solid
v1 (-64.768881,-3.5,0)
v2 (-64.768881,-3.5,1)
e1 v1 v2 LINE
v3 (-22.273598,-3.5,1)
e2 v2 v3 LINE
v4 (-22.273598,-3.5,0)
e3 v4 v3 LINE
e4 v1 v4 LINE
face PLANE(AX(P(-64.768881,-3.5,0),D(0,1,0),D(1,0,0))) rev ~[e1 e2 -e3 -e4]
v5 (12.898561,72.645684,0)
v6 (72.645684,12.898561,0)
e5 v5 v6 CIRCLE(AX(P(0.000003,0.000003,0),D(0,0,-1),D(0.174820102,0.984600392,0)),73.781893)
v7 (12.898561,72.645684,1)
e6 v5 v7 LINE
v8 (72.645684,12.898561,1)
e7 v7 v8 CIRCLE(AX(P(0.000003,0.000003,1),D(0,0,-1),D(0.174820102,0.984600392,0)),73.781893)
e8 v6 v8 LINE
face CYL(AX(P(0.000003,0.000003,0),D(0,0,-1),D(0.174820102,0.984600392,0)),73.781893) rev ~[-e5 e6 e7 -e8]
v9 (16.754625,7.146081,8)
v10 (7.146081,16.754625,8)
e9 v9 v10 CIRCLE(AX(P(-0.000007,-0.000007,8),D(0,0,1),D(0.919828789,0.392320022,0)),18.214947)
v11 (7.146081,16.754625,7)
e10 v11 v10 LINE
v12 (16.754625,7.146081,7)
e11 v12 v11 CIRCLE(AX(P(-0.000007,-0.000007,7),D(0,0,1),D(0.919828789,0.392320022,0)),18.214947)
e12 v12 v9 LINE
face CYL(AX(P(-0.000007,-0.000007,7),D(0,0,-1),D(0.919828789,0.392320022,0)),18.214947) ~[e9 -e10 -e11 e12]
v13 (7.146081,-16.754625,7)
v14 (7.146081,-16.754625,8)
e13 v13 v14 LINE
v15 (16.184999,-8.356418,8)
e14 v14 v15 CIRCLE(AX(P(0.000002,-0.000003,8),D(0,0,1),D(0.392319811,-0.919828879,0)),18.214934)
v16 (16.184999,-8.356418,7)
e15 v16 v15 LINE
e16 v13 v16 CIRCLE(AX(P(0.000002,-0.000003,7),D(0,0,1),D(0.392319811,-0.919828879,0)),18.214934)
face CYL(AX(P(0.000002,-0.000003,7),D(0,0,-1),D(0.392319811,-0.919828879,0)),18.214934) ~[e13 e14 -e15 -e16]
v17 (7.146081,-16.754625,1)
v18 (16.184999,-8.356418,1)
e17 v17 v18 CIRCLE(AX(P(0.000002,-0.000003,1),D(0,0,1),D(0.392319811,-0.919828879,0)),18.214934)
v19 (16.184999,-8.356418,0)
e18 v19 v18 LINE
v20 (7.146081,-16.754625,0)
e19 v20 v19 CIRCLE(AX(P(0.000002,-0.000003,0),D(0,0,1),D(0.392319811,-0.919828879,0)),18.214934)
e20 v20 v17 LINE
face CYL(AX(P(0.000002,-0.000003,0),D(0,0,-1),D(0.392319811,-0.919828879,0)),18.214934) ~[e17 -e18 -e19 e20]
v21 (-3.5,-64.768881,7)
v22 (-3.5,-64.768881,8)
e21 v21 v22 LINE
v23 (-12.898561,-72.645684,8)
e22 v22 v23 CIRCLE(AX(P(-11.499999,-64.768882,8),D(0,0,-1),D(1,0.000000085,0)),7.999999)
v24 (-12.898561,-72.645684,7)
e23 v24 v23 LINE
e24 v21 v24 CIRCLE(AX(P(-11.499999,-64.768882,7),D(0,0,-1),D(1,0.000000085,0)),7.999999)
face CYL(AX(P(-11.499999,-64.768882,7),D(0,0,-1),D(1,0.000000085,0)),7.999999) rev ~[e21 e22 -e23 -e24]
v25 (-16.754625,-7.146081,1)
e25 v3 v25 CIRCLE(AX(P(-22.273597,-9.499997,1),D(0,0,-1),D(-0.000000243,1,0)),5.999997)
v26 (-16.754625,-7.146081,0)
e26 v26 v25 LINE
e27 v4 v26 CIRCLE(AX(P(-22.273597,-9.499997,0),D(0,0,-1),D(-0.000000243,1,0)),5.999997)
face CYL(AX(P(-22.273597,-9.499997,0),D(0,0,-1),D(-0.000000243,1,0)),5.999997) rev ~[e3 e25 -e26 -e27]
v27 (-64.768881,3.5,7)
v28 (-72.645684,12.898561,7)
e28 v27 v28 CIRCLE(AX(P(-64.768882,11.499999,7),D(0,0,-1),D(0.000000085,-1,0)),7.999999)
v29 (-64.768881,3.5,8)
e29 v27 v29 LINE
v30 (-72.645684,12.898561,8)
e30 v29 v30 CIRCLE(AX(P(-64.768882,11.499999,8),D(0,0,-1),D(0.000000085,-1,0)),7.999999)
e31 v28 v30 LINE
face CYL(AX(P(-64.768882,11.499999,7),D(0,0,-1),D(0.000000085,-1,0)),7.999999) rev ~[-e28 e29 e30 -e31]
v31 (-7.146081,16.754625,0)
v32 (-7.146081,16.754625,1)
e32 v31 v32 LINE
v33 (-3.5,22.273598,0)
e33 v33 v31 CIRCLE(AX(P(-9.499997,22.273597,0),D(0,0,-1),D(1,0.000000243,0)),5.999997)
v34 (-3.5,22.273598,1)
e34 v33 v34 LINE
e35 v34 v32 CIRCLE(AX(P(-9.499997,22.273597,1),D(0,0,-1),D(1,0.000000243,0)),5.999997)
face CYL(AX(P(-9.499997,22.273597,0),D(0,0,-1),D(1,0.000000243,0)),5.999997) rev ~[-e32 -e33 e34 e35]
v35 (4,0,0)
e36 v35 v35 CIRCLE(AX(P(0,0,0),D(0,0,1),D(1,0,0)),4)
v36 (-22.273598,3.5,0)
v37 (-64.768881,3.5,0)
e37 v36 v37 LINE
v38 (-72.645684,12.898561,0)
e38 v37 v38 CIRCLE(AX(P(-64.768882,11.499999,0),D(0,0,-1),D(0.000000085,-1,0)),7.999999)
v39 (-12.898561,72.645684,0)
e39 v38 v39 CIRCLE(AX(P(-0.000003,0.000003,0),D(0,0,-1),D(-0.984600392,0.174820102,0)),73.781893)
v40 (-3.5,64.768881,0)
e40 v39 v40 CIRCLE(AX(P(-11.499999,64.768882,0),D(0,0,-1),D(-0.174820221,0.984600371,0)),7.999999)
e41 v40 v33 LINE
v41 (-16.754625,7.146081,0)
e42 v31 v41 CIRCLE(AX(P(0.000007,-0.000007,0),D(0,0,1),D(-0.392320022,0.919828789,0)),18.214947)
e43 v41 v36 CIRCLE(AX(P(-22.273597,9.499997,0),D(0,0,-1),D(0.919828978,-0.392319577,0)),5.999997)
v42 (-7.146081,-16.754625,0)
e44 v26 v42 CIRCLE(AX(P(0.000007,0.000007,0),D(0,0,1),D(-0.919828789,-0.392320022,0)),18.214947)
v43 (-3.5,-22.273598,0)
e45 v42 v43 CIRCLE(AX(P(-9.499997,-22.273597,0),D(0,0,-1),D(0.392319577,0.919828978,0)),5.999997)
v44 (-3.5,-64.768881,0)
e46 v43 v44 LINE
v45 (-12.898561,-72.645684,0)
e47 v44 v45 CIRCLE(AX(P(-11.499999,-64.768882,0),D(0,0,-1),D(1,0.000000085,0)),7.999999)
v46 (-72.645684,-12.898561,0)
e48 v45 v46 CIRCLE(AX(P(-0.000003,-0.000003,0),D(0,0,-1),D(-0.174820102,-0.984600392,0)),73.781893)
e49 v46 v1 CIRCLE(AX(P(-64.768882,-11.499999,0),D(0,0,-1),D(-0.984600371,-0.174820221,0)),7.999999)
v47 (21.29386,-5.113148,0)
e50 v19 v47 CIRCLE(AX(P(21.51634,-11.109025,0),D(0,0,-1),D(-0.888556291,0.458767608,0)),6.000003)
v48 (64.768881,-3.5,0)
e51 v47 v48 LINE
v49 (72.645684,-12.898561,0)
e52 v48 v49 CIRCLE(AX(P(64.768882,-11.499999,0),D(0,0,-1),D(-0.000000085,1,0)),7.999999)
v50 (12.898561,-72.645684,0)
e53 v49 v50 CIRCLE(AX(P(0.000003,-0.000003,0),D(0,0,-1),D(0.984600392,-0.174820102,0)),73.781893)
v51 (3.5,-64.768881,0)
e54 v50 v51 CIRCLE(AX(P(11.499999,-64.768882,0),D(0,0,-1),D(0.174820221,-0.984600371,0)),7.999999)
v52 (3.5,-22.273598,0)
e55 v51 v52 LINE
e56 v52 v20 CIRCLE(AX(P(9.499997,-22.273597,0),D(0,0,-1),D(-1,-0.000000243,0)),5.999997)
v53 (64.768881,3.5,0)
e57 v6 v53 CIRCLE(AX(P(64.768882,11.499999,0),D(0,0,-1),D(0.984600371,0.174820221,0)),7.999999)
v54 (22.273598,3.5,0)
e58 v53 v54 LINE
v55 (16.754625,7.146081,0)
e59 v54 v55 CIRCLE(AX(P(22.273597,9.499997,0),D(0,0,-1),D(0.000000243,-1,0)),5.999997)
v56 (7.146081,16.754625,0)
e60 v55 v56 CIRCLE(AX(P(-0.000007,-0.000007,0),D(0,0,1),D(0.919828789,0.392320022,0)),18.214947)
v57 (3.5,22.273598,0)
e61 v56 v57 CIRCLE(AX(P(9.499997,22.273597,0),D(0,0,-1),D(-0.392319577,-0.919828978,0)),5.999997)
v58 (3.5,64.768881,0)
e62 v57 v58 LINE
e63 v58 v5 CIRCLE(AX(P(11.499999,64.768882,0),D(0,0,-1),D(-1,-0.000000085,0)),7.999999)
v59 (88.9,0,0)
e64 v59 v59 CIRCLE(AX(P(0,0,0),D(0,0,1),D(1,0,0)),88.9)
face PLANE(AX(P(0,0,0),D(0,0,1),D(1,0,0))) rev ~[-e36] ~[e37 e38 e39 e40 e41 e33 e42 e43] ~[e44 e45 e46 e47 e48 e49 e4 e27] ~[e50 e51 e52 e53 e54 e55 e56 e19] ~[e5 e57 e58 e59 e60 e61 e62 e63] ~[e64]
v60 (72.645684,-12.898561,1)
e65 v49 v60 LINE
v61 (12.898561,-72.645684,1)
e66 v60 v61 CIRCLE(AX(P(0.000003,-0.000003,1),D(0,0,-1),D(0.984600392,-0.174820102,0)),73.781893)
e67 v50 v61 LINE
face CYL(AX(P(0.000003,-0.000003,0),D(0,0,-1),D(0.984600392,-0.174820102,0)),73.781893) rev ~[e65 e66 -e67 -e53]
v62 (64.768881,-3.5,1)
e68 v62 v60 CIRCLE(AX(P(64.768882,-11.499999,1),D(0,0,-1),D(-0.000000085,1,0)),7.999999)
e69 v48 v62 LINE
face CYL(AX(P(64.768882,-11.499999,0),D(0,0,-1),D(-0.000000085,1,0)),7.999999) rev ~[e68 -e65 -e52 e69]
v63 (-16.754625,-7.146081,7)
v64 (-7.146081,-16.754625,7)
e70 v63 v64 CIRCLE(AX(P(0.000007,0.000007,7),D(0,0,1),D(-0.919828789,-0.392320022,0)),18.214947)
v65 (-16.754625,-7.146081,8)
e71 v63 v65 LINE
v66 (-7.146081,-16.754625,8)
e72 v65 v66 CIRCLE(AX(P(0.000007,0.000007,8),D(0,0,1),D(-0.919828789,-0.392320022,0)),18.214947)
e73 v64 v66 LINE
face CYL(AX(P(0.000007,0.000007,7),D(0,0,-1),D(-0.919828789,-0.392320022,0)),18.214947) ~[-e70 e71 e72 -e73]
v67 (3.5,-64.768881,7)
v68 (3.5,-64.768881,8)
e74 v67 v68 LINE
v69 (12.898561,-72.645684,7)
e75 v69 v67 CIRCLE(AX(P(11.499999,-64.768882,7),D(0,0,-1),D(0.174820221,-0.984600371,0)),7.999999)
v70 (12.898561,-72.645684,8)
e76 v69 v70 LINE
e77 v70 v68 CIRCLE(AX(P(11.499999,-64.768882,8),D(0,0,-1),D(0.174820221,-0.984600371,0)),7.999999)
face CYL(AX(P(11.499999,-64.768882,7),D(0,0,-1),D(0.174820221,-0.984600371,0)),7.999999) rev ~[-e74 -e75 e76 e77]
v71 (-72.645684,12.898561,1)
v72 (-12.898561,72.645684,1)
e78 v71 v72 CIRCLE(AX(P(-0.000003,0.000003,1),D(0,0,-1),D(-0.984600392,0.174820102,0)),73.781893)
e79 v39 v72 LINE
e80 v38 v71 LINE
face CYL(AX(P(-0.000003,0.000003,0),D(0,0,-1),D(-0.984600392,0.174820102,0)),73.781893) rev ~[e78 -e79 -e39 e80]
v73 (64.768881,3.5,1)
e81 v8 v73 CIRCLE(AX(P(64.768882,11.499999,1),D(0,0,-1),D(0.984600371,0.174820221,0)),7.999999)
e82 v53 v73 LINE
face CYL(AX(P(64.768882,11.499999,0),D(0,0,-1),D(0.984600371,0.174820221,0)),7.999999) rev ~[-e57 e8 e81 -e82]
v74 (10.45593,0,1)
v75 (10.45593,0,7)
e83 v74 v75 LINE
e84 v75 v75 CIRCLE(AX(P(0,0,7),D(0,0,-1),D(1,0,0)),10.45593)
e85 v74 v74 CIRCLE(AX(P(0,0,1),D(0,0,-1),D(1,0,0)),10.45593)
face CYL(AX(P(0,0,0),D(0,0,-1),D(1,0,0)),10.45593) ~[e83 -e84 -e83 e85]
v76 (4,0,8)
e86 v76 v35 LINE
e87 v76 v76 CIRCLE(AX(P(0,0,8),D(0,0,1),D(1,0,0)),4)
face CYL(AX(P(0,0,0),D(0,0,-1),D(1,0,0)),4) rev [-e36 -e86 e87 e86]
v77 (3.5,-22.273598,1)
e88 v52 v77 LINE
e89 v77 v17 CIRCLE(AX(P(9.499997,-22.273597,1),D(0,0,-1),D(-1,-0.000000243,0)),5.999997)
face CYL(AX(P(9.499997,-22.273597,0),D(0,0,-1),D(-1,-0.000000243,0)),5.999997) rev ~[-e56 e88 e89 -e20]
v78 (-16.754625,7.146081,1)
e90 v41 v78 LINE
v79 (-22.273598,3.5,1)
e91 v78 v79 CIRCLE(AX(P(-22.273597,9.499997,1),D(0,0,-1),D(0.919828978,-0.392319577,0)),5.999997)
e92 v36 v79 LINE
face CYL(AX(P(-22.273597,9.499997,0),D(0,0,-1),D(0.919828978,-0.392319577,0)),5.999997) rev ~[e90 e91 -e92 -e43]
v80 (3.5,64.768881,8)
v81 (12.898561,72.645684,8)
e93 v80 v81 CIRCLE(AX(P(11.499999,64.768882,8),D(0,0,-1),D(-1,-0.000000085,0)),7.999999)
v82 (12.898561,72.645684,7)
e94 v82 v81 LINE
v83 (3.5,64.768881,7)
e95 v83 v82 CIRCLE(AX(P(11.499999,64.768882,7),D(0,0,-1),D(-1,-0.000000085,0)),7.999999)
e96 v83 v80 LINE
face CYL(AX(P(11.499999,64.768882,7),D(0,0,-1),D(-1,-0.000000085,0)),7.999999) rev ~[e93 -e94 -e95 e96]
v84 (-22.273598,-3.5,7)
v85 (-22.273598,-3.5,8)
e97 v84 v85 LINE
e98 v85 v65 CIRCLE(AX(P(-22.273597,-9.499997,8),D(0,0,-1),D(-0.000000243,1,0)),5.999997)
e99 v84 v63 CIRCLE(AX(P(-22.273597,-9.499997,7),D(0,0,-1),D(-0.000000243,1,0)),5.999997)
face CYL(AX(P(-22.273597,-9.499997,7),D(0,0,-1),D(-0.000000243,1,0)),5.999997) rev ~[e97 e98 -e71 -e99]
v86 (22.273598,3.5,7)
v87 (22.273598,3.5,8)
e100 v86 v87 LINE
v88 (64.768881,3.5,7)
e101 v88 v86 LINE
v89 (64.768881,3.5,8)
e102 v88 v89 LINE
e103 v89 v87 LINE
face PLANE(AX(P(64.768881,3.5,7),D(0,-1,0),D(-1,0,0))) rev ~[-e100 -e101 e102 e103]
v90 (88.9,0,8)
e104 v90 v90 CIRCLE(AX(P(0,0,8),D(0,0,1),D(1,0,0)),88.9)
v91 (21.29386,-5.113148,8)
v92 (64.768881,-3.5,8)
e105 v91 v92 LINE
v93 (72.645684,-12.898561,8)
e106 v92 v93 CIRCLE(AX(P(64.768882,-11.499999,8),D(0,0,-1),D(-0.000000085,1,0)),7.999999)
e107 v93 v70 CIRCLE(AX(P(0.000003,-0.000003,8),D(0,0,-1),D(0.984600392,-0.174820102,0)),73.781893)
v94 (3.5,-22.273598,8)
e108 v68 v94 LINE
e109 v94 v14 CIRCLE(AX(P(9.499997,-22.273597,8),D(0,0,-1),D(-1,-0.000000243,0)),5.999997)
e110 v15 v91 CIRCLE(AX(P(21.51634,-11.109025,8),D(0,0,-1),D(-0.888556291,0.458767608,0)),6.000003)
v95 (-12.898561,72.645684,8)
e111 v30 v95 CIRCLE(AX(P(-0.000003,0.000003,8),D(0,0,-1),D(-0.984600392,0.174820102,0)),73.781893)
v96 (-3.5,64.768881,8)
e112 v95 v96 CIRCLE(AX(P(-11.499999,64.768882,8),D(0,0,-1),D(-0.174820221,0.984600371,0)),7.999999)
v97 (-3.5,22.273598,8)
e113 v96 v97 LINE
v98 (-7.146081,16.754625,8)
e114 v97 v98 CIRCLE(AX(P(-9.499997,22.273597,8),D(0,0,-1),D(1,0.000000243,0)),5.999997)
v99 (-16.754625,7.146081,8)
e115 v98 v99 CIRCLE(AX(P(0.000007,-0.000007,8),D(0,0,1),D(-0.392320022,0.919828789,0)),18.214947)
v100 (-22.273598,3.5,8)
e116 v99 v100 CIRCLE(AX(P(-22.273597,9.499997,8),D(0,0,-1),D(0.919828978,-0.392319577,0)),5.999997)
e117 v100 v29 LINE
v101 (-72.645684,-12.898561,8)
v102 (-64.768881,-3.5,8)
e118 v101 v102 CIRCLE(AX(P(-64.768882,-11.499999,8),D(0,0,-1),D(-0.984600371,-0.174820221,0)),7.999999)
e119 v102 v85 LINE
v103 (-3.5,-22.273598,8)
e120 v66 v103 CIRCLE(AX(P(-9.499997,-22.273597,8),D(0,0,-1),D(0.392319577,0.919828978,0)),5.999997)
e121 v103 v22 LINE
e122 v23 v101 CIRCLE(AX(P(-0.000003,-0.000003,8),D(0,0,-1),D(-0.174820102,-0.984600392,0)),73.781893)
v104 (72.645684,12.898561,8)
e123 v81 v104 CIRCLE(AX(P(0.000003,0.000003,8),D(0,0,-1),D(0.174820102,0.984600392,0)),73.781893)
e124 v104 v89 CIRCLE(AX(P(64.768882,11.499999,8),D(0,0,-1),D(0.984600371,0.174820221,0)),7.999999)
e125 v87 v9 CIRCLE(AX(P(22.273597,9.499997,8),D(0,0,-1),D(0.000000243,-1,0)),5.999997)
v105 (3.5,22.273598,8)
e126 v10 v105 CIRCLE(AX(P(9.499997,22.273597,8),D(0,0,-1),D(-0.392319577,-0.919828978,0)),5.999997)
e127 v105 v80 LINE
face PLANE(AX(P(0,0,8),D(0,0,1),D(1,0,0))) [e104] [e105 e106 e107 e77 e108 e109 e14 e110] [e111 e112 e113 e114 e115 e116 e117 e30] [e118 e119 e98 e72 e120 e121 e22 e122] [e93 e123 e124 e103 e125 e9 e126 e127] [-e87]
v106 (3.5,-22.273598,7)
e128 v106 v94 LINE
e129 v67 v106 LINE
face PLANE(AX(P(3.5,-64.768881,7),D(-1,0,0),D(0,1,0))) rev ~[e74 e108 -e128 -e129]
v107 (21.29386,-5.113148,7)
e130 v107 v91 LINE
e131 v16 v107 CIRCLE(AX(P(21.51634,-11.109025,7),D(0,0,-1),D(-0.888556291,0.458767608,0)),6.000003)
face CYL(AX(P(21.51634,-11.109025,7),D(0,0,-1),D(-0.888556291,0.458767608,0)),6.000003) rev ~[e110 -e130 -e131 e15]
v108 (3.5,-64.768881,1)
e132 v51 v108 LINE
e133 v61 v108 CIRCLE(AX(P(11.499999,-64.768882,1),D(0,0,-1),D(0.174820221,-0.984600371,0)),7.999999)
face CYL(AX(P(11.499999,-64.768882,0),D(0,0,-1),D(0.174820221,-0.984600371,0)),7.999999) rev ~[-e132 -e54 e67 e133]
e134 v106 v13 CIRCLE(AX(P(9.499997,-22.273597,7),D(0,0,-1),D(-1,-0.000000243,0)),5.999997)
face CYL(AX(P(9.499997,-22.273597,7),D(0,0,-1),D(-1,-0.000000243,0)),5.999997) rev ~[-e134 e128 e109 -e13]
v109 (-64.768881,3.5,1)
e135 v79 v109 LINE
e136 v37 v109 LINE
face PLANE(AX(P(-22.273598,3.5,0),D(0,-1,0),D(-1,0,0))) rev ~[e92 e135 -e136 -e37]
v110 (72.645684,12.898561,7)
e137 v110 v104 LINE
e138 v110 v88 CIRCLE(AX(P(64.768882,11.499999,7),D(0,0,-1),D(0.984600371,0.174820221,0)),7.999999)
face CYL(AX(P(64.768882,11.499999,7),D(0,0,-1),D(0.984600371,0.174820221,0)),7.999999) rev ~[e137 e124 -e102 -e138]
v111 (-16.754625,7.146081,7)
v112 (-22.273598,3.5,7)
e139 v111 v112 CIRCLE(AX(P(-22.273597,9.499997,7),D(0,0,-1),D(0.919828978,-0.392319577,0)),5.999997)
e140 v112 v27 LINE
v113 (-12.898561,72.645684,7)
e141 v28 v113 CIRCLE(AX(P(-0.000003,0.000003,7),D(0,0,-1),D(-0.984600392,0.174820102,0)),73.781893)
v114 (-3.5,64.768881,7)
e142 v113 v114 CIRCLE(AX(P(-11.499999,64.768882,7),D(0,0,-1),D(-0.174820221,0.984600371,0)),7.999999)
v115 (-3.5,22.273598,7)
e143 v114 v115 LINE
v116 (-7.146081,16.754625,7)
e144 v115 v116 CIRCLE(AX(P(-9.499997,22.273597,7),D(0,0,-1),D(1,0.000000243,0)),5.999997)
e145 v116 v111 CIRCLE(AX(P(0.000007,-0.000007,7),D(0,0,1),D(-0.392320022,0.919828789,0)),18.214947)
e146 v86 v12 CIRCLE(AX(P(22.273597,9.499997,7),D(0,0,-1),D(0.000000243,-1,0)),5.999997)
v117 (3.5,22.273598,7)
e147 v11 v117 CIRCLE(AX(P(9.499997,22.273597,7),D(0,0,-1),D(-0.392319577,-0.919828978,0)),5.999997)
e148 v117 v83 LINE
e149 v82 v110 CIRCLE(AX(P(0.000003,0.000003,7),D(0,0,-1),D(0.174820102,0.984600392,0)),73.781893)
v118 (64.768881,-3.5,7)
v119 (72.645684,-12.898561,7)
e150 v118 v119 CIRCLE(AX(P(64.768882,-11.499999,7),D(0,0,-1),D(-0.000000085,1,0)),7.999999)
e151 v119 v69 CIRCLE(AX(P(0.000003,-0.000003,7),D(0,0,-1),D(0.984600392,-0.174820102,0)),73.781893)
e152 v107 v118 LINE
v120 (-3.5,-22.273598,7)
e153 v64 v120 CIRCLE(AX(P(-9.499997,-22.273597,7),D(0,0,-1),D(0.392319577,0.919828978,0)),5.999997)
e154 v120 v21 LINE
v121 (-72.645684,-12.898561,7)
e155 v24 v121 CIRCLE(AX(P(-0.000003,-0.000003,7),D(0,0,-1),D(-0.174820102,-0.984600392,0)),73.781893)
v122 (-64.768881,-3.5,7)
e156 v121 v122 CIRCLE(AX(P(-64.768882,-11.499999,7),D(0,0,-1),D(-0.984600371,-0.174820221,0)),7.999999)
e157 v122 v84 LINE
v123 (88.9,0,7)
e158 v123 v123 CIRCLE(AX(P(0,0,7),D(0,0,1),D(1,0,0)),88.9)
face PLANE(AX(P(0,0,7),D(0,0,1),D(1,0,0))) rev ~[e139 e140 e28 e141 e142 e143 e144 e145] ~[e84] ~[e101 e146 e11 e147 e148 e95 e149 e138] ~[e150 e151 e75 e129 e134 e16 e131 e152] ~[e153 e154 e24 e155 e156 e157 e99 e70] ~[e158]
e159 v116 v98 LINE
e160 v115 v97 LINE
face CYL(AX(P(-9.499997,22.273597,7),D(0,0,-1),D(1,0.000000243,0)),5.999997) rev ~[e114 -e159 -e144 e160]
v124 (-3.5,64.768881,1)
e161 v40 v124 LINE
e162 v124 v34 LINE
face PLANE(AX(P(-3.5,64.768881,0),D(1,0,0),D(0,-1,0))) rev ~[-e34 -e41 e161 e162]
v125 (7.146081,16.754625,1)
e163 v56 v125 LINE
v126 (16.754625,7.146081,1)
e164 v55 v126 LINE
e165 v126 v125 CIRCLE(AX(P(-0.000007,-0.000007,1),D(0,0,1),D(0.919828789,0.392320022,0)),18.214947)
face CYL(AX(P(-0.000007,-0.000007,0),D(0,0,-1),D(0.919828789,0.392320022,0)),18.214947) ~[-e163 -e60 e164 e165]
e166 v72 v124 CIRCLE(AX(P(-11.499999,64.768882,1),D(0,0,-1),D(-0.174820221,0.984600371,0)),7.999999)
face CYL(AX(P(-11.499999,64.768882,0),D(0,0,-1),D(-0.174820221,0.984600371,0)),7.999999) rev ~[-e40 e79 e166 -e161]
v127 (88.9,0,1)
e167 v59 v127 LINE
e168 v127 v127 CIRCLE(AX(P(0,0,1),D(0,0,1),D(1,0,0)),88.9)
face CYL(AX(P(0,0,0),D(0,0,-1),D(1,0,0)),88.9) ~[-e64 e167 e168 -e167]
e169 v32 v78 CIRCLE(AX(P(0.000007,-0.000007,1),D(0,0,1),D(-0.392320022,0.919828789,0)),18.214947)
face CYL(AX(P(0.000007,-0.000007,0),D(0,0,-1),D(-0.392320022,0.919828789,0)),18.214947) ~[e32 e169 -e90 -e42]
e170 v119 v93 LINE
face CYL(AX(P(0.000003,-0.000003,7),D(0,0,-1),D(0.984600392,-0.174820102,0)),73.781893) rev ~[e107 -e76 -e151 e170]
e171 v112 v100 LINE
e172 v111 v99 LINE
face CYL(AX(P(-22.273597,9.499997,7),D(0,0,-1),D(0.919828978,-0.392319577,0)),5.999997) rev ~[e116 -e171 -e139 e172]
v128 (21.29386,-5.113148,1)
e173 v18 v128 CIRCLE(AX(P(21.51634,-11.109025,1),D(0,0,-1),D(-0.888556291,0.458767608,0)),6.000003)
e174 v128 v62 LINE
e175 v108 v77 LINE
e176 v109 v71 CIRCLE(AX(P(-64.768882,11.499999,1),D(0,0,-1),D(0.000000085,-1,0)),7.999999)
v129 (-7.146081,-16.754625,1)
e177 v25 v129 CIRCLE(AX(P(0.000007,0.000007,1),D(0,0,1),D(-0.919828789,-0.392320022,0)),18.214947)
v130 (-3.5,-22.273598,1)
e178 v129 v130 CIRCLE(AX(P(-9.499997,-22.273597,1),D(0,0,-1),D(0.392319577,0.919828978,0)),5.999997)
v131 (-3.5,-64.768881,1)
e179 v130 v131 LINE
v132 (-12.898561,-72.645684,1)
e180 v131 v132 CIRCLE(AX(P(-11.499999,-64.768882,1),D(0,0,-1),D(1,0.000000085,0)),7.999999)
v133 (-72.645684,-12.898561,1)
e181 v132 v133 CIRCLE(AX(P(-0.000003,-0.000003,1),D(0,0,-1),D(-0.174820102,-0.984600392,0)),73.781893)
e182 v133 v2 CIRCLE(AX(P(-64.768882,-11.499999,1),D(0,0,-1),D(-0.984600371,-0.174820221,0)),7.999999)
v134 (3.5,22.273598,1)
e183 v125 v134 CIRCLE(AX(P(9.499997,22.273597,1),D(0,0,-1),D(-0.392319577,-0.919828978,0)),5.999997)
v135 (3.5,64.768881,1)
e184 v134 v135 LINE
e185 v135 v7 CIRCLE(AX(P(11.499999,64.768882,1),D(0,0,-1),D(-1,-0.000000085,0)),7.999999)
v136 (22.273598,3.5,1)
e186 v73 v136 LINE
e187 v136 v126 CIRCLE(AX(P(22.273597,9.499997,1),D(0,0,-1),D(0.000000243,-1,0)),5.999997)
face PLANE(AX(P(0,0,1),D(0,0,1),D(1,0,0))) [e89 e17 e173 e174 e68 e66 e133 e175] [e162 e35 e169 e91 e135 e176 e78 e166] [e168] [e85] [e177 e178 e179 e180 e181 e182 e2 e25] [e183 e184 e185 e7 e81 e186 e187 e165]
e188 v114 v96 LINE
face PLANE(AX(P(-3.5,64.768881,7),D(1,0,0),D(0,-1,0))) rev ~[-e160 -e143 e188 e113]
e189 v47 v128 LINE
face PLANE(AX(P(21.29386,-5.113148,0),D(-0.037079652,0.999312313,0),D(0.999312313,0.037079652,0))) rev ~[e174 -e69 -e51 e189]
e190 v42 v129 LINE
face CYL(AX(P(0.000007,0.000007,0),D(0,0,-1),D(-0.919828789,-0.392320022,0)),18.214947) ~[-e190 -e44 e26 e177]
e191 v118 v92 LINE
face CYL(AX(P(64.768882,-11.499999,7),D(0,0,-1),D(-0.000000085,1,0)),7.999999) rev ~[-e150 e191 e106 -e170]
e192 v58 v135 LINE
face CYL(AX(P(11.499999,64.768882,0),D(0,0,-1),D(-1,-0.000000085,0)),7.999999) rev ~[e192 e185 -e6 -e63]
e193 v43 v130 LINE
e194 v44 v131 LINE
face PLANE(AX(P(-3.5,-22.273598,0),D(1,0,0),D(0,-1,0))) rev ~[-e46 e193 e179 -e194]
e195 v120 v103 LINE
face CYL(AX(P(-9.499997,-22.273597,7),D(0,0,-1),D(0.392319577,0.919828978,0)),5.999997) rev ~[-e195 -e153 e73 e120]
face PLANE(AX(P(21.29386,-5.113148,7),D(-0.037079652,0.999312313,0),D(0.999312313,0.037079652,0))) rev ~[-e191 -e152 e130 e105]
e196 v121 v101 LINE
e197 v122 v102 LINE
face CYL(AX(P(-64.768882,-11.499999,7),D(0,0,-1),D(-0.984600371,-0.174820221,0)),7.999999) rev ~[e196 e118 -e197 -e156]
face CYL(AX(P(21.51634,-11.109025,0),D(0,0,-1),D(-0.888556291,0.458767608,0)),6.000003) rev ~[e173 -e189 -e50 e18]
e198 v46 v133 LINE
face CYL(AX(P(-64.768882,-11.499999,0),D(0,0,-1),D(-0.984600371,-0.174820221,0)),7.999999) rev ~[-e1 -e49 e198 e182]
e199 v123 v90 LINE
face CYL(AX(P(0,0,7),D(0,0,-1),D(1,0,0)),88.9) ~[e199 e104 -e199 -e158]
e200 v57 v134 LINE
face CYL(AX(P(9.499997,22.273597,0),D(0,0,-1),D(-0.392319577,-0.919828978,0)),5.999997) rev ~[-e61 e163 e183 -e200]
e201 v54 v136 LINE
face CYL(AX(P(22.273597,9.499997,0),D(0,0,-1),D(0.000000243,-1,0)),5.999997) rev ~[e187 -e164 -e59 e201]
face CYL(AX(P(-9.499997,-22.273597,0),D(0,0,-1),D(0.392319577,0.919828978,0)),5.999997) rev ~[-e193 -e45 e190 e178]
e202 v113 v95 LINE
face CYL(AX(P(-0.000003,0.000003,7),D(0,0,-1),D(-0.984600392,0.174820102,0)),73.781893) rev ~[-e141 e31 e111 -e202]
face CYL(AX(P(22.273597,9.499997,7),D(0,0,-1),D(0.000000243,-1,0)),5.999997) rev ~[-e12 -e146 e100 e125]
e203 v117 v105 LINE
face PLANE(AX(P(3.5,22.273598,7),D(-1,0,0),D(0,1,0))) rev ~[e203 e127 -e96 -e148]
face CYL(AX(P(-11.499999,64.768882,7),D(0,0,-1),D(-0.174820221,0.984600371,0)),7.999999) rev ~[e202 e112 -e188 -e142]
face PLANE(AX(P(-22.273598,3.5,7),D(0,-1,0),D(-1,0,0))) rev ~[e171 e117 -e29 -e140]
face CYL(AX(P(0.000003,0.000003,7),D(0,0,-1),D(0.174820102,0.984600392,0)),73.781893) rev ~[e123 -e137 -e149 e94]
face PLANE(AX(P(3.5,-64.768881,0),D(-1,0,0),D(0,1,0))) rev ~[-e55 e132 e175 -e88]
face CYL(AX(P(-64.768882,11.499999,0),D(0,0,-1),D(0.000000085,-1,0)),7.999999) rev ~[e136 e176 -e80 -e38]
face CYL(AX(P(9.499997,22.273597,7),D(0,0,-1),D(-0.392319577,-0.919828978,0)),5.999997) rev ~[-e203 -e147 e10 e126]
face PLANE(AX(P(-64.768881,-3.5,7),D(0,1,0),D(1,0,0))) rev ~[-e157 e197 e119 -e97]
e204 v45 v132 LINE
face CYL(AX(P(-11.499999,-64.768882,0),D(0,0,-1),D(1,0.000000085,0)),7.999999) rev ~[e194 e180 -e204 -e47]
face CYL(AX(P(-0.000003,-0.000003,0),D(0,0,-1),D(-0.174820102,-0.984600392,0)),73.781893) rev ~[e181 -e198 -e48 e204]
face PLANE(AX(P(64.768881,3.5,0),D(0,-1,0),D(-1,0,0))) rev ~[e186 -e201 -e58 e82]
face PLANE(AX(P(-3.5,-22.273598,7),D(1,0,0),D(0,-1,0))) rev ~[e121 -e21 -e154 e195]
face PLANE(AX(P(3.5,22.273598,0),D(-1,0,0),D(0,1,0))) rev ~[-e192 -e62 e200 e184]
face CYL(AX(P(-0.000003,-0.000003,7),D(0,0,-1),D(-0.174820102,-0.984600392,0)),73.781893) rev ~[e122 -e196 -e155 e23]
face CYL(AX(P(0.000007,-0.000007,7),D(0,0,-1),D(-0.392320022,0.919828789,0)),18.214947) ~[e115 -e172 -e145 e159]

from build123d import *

# Parameters (mm, degrees)
F0_R     = 88.9
F0_R_2   = 10.45593
F0_R_3   = 4
F1_DEPTH = 1
F4_DEPTH = 8
F3_R     = 88.9
F3_R_2   = 4
F5_DEPTH = 1


with BuildPart() as f1:
    # F0 (on Top) → F1 (new body)
    with BuildSketch(Plane.XY):
        Circle(F0_R)
        with BuildLine():
            ThreePointArc((-72.645684, -12.898561), (-70.900296, -6.361347), (-64.768881, -3.5))
            Line((-64.768881, -3.5), (-22.273598, -3.5))
            ThreePointArc((-22.273598, -3.5), (-18.966296, -4.493828), (-16.754625, -7.146081))
            ThreePointArc((-16.754625, -7.146081), (-12.879905, -12.879905), (-7.146081, -16.754625))
            ThreePointArc((-7.146081, -16.754625), (-4.493828, -18.966296), (-3.5, -22.273598))
            Line((-3.5, -22.273598), (-3.5, -64.768881))
            ThreePointArc((-3.5, -64.768881), (-6.361347, -70.900296), (-12.898561, -72.645684))
            ThreePointArc((-12.898561, -72.645684), (-52.17168, -52.17168), (-72.645684, -12.898561))
        make_face(mode=Mode.SUBTRACT)
        with BuildLine():
            ThreePointArc((72.645684, -12.898561), (52.17168, -52.17168), (12.898561, -72.645684))
            ThreePointArc((12.898561, -72.645684), (6.361347, -70.900296), (3.5, -64.768881))
            Line((3.5, -64.768881), (3.5, -22.273598))
            ThreePointArc((3.5, -22.273598), (4.493828, -18.966296), (7.146081, -16.754625))
            ThreePointArc((7.146081, -16.754625), (12.398278, -13.344161), (16.184999, -8.356418))
            ThreePointArc((16.184999, -8.356418), (18.300608, -6.043543), (21.29386, -5.113148))
            Line((21.29386, -5.113148), (64.768881, -3.5))
            ThreePointArc((64.768881, -3.5), (70.900296, -6.361347), (72.645684, -12.898561))
        make_face(mode=Mode.SUBTRACT)
        with BuildLine():
            ThreePointArc((-72.645684, 12.898561), (-52.17168, 52.17168), (-12.898561, 72.645684))
            ThreePointArc((-12.898561, 72.645684), (-6.361347, 70.900296), (-3.5, 64.768881))
            Line((-3.5, 64.768881), (-3.5, 22.273598))
            ThreePointArc((-3.5, 22.273598), (-4.493828, 18.966296), (-7.146081, 16.754625))
            ThreePointArc((-7.146081, 16.754625), (-12.879905, 12.879905), (-16.754625, 7.146081))
            ThreePointArc((-16.754625, 7.146081), (-18.966296, 4.493828), (-22.273598, 3.5))
            Line((-22.273598, 3.5), (-64.768881, 3.5))
            ThreePointArc((-64.768881, 3.5), (-70.900296, 6.361347), (-72.645684, 12.898561))
        make_face(mode=Mode.SUBTRACT)
        Circle(F0_R_2, mode=Mode.SUBTRACT)
        with BuildLine():
            Line((3.5, 22.273598), (3.5, 64.768881))
            ThreePointArc((3.5, 64.768881), (6.361347, 70.900296), (12.898561, 72.645684))
            ThreePointArc((12.898561, 72.645684), (52.17168, 52.17168), (72.645684, 12.898561))
            ThreePointArc((72.645684, 12.898561), (70.900296, 6.361347), (64.768881, 3.5))
            Line((64.768881, 3.5), (22.273598, 3.5))
            ThreePointArc((22.273598, 3.5), (18.966296, 4.493828), (16.754625, 7.146081))
            ThreePointArc((16.754625, 7.146081), (12.879905, 12.879905), (7.146081, 16.754625))
            ThreePointArc((7.146081, 16.754625), (4.493828, 18.966296), (3.5, 22.273598))
        make_face(mode=Mode.SUBTRACT)
        Circle(F0_R_2)
        Circle(F0_R_3, mode=Mode.SUBTRACT)
    extrude(amount=F1_DEPTH)

    # F0 (on Top) → F4 (join)
    with BuildSketch(Plane.XY):
        Circle(F0_R_2)
        Circle(F0_R_3, mode=Mode.SUBTRACT)
    extrude(amount=F4_DEPTH)

    # F3 (on offset) → F5 (join)
    with BuildSketch(Plane.XY.offset(7)):
        Circle(F3_R)
        with BuildLine():
            Line((-3.5, -22.273598), (-3.5, -64.768881))
            ThreePointArc((-3.5, -64.768881), (-6.361347, -70.900296), (-12.898561, -72.645684))
            ThreePointArc((-12.898561, -72.645684), (-52.17168, -52.17168), (-72.645684, -12.898561))
            ThreePointArc((-72.645684, -12.898561), (-70.900296, -6.361347), (-64.768881, -3.5))
            Line((-64.768881, -3.5), (-22.273598, -3.5))
            ThreePointArc((-22.273598, -3.5), (-18.966296, -4.493828), (-16.754625, -7.146081))
            ThreePointArc((-16.754625, -7.146081), (-12.879905, -12.879905), (-7.146081, -16.754625))
            ThreePointArc((-7.146081, -16.754625), (-4.493828, -18.966296), (-3.5, -22.273598))
        make_face(mode=Mode.SUBTRACT)
        with BuildLine():
            ThreePointArc((7.146081, -16.754625), (12.398278, -13.344161), (16.184999, -8.356418))
            ThreePointArc((16.184999, -8.356418), (18.300608, -6.043543), (21.29386, -5.113148))
            Line((21.29386, -5.113148), (64.768881, -3.5))
            ThreePointArc((64.768881, -3.5), (70.900296, -6.361347), (72.645684, -12.898561))
            ThreePointArc((72.645684, -12.898561), (52.17168, -52.17168), (12.898561, -72.645684))
            ThreePointArc((12.898561, -72.645684), (6.361347, -70.900296), (3.5, -64.768881))
            Line((3.5, -64.768881), (3.5, -22.273598))
            ThreePointArc((3.5, -22.273598), (4.493828, -18.966296), (7.146081, -16.754625))
        make_face(mode=Mode.SUBTRACT)
        with BuildLine():
            ThreePointArc((-7.146081, 16.754625), (-12.879905, 12.879905), (-16.754625, 7.146081))
            ThreePointArc((-16.754625, 7.146081), (-18.966296, 4.493828), (-22.273598, 3.5))
            Line((-22.273598, 3.5), (-64.768881, 3.5))
            ThreePointArc((-64.768881, 3.5), (-70.900296, 6.361347), (-72.645684, 12.898561))
            ThreePointArc((-72.645684, 12.898561), (-52.17168, 52.17168), (-12.898561, 72.645684))
            ThreePointArc((-12.898561, 72.645684), (-6.361347, 70.900296), (-3.5, 64.768881))
            Line((-3.5, 64.768881), (-3.5, 22.273598))
            ThreePointArc((-3.5, 22.273598), (-4.493828, 18.966296), (-7.146081, 16.754625))
        make_face(mode=Mode.SUBTRACT)
        Circle(F3_R_2, mode=Mode.SUBTRACT)
        with BuildLine():
            ThreePointArc((16.754625, 7.146081), (12.879905, 12.879905), (7.146081, 16.754625))
            ThreePointArc((7.146081, 16.754625), (4.493828, 18.966296), (3.5, 22.273598))
            Line((3.5, 22.273598), (3.5, 64.768881))
            ThreePointArc((3.5, 64.768881), (6.361347, 70.900296), (12.898561, 72.645684))
            ThreePointArc((12.898561, 72.645684), (52.17168, 52.17168), (72.645684, 12.898561))
            ThreePointArc((72.645684, 12.898561), (70.900296, 6.361347), (64.768881, 3.5))
            Line((64.768881, 3.5), (22.273598, 3.5))
            ThreePointArc((22.273598, 3.5), (18.966296, 4.493828), (16.754625, 7.146081))
        make_face(mode=Mode.SUBTRACT)
    extrude(amount=F5_DEPTH)


solid = f1.part
